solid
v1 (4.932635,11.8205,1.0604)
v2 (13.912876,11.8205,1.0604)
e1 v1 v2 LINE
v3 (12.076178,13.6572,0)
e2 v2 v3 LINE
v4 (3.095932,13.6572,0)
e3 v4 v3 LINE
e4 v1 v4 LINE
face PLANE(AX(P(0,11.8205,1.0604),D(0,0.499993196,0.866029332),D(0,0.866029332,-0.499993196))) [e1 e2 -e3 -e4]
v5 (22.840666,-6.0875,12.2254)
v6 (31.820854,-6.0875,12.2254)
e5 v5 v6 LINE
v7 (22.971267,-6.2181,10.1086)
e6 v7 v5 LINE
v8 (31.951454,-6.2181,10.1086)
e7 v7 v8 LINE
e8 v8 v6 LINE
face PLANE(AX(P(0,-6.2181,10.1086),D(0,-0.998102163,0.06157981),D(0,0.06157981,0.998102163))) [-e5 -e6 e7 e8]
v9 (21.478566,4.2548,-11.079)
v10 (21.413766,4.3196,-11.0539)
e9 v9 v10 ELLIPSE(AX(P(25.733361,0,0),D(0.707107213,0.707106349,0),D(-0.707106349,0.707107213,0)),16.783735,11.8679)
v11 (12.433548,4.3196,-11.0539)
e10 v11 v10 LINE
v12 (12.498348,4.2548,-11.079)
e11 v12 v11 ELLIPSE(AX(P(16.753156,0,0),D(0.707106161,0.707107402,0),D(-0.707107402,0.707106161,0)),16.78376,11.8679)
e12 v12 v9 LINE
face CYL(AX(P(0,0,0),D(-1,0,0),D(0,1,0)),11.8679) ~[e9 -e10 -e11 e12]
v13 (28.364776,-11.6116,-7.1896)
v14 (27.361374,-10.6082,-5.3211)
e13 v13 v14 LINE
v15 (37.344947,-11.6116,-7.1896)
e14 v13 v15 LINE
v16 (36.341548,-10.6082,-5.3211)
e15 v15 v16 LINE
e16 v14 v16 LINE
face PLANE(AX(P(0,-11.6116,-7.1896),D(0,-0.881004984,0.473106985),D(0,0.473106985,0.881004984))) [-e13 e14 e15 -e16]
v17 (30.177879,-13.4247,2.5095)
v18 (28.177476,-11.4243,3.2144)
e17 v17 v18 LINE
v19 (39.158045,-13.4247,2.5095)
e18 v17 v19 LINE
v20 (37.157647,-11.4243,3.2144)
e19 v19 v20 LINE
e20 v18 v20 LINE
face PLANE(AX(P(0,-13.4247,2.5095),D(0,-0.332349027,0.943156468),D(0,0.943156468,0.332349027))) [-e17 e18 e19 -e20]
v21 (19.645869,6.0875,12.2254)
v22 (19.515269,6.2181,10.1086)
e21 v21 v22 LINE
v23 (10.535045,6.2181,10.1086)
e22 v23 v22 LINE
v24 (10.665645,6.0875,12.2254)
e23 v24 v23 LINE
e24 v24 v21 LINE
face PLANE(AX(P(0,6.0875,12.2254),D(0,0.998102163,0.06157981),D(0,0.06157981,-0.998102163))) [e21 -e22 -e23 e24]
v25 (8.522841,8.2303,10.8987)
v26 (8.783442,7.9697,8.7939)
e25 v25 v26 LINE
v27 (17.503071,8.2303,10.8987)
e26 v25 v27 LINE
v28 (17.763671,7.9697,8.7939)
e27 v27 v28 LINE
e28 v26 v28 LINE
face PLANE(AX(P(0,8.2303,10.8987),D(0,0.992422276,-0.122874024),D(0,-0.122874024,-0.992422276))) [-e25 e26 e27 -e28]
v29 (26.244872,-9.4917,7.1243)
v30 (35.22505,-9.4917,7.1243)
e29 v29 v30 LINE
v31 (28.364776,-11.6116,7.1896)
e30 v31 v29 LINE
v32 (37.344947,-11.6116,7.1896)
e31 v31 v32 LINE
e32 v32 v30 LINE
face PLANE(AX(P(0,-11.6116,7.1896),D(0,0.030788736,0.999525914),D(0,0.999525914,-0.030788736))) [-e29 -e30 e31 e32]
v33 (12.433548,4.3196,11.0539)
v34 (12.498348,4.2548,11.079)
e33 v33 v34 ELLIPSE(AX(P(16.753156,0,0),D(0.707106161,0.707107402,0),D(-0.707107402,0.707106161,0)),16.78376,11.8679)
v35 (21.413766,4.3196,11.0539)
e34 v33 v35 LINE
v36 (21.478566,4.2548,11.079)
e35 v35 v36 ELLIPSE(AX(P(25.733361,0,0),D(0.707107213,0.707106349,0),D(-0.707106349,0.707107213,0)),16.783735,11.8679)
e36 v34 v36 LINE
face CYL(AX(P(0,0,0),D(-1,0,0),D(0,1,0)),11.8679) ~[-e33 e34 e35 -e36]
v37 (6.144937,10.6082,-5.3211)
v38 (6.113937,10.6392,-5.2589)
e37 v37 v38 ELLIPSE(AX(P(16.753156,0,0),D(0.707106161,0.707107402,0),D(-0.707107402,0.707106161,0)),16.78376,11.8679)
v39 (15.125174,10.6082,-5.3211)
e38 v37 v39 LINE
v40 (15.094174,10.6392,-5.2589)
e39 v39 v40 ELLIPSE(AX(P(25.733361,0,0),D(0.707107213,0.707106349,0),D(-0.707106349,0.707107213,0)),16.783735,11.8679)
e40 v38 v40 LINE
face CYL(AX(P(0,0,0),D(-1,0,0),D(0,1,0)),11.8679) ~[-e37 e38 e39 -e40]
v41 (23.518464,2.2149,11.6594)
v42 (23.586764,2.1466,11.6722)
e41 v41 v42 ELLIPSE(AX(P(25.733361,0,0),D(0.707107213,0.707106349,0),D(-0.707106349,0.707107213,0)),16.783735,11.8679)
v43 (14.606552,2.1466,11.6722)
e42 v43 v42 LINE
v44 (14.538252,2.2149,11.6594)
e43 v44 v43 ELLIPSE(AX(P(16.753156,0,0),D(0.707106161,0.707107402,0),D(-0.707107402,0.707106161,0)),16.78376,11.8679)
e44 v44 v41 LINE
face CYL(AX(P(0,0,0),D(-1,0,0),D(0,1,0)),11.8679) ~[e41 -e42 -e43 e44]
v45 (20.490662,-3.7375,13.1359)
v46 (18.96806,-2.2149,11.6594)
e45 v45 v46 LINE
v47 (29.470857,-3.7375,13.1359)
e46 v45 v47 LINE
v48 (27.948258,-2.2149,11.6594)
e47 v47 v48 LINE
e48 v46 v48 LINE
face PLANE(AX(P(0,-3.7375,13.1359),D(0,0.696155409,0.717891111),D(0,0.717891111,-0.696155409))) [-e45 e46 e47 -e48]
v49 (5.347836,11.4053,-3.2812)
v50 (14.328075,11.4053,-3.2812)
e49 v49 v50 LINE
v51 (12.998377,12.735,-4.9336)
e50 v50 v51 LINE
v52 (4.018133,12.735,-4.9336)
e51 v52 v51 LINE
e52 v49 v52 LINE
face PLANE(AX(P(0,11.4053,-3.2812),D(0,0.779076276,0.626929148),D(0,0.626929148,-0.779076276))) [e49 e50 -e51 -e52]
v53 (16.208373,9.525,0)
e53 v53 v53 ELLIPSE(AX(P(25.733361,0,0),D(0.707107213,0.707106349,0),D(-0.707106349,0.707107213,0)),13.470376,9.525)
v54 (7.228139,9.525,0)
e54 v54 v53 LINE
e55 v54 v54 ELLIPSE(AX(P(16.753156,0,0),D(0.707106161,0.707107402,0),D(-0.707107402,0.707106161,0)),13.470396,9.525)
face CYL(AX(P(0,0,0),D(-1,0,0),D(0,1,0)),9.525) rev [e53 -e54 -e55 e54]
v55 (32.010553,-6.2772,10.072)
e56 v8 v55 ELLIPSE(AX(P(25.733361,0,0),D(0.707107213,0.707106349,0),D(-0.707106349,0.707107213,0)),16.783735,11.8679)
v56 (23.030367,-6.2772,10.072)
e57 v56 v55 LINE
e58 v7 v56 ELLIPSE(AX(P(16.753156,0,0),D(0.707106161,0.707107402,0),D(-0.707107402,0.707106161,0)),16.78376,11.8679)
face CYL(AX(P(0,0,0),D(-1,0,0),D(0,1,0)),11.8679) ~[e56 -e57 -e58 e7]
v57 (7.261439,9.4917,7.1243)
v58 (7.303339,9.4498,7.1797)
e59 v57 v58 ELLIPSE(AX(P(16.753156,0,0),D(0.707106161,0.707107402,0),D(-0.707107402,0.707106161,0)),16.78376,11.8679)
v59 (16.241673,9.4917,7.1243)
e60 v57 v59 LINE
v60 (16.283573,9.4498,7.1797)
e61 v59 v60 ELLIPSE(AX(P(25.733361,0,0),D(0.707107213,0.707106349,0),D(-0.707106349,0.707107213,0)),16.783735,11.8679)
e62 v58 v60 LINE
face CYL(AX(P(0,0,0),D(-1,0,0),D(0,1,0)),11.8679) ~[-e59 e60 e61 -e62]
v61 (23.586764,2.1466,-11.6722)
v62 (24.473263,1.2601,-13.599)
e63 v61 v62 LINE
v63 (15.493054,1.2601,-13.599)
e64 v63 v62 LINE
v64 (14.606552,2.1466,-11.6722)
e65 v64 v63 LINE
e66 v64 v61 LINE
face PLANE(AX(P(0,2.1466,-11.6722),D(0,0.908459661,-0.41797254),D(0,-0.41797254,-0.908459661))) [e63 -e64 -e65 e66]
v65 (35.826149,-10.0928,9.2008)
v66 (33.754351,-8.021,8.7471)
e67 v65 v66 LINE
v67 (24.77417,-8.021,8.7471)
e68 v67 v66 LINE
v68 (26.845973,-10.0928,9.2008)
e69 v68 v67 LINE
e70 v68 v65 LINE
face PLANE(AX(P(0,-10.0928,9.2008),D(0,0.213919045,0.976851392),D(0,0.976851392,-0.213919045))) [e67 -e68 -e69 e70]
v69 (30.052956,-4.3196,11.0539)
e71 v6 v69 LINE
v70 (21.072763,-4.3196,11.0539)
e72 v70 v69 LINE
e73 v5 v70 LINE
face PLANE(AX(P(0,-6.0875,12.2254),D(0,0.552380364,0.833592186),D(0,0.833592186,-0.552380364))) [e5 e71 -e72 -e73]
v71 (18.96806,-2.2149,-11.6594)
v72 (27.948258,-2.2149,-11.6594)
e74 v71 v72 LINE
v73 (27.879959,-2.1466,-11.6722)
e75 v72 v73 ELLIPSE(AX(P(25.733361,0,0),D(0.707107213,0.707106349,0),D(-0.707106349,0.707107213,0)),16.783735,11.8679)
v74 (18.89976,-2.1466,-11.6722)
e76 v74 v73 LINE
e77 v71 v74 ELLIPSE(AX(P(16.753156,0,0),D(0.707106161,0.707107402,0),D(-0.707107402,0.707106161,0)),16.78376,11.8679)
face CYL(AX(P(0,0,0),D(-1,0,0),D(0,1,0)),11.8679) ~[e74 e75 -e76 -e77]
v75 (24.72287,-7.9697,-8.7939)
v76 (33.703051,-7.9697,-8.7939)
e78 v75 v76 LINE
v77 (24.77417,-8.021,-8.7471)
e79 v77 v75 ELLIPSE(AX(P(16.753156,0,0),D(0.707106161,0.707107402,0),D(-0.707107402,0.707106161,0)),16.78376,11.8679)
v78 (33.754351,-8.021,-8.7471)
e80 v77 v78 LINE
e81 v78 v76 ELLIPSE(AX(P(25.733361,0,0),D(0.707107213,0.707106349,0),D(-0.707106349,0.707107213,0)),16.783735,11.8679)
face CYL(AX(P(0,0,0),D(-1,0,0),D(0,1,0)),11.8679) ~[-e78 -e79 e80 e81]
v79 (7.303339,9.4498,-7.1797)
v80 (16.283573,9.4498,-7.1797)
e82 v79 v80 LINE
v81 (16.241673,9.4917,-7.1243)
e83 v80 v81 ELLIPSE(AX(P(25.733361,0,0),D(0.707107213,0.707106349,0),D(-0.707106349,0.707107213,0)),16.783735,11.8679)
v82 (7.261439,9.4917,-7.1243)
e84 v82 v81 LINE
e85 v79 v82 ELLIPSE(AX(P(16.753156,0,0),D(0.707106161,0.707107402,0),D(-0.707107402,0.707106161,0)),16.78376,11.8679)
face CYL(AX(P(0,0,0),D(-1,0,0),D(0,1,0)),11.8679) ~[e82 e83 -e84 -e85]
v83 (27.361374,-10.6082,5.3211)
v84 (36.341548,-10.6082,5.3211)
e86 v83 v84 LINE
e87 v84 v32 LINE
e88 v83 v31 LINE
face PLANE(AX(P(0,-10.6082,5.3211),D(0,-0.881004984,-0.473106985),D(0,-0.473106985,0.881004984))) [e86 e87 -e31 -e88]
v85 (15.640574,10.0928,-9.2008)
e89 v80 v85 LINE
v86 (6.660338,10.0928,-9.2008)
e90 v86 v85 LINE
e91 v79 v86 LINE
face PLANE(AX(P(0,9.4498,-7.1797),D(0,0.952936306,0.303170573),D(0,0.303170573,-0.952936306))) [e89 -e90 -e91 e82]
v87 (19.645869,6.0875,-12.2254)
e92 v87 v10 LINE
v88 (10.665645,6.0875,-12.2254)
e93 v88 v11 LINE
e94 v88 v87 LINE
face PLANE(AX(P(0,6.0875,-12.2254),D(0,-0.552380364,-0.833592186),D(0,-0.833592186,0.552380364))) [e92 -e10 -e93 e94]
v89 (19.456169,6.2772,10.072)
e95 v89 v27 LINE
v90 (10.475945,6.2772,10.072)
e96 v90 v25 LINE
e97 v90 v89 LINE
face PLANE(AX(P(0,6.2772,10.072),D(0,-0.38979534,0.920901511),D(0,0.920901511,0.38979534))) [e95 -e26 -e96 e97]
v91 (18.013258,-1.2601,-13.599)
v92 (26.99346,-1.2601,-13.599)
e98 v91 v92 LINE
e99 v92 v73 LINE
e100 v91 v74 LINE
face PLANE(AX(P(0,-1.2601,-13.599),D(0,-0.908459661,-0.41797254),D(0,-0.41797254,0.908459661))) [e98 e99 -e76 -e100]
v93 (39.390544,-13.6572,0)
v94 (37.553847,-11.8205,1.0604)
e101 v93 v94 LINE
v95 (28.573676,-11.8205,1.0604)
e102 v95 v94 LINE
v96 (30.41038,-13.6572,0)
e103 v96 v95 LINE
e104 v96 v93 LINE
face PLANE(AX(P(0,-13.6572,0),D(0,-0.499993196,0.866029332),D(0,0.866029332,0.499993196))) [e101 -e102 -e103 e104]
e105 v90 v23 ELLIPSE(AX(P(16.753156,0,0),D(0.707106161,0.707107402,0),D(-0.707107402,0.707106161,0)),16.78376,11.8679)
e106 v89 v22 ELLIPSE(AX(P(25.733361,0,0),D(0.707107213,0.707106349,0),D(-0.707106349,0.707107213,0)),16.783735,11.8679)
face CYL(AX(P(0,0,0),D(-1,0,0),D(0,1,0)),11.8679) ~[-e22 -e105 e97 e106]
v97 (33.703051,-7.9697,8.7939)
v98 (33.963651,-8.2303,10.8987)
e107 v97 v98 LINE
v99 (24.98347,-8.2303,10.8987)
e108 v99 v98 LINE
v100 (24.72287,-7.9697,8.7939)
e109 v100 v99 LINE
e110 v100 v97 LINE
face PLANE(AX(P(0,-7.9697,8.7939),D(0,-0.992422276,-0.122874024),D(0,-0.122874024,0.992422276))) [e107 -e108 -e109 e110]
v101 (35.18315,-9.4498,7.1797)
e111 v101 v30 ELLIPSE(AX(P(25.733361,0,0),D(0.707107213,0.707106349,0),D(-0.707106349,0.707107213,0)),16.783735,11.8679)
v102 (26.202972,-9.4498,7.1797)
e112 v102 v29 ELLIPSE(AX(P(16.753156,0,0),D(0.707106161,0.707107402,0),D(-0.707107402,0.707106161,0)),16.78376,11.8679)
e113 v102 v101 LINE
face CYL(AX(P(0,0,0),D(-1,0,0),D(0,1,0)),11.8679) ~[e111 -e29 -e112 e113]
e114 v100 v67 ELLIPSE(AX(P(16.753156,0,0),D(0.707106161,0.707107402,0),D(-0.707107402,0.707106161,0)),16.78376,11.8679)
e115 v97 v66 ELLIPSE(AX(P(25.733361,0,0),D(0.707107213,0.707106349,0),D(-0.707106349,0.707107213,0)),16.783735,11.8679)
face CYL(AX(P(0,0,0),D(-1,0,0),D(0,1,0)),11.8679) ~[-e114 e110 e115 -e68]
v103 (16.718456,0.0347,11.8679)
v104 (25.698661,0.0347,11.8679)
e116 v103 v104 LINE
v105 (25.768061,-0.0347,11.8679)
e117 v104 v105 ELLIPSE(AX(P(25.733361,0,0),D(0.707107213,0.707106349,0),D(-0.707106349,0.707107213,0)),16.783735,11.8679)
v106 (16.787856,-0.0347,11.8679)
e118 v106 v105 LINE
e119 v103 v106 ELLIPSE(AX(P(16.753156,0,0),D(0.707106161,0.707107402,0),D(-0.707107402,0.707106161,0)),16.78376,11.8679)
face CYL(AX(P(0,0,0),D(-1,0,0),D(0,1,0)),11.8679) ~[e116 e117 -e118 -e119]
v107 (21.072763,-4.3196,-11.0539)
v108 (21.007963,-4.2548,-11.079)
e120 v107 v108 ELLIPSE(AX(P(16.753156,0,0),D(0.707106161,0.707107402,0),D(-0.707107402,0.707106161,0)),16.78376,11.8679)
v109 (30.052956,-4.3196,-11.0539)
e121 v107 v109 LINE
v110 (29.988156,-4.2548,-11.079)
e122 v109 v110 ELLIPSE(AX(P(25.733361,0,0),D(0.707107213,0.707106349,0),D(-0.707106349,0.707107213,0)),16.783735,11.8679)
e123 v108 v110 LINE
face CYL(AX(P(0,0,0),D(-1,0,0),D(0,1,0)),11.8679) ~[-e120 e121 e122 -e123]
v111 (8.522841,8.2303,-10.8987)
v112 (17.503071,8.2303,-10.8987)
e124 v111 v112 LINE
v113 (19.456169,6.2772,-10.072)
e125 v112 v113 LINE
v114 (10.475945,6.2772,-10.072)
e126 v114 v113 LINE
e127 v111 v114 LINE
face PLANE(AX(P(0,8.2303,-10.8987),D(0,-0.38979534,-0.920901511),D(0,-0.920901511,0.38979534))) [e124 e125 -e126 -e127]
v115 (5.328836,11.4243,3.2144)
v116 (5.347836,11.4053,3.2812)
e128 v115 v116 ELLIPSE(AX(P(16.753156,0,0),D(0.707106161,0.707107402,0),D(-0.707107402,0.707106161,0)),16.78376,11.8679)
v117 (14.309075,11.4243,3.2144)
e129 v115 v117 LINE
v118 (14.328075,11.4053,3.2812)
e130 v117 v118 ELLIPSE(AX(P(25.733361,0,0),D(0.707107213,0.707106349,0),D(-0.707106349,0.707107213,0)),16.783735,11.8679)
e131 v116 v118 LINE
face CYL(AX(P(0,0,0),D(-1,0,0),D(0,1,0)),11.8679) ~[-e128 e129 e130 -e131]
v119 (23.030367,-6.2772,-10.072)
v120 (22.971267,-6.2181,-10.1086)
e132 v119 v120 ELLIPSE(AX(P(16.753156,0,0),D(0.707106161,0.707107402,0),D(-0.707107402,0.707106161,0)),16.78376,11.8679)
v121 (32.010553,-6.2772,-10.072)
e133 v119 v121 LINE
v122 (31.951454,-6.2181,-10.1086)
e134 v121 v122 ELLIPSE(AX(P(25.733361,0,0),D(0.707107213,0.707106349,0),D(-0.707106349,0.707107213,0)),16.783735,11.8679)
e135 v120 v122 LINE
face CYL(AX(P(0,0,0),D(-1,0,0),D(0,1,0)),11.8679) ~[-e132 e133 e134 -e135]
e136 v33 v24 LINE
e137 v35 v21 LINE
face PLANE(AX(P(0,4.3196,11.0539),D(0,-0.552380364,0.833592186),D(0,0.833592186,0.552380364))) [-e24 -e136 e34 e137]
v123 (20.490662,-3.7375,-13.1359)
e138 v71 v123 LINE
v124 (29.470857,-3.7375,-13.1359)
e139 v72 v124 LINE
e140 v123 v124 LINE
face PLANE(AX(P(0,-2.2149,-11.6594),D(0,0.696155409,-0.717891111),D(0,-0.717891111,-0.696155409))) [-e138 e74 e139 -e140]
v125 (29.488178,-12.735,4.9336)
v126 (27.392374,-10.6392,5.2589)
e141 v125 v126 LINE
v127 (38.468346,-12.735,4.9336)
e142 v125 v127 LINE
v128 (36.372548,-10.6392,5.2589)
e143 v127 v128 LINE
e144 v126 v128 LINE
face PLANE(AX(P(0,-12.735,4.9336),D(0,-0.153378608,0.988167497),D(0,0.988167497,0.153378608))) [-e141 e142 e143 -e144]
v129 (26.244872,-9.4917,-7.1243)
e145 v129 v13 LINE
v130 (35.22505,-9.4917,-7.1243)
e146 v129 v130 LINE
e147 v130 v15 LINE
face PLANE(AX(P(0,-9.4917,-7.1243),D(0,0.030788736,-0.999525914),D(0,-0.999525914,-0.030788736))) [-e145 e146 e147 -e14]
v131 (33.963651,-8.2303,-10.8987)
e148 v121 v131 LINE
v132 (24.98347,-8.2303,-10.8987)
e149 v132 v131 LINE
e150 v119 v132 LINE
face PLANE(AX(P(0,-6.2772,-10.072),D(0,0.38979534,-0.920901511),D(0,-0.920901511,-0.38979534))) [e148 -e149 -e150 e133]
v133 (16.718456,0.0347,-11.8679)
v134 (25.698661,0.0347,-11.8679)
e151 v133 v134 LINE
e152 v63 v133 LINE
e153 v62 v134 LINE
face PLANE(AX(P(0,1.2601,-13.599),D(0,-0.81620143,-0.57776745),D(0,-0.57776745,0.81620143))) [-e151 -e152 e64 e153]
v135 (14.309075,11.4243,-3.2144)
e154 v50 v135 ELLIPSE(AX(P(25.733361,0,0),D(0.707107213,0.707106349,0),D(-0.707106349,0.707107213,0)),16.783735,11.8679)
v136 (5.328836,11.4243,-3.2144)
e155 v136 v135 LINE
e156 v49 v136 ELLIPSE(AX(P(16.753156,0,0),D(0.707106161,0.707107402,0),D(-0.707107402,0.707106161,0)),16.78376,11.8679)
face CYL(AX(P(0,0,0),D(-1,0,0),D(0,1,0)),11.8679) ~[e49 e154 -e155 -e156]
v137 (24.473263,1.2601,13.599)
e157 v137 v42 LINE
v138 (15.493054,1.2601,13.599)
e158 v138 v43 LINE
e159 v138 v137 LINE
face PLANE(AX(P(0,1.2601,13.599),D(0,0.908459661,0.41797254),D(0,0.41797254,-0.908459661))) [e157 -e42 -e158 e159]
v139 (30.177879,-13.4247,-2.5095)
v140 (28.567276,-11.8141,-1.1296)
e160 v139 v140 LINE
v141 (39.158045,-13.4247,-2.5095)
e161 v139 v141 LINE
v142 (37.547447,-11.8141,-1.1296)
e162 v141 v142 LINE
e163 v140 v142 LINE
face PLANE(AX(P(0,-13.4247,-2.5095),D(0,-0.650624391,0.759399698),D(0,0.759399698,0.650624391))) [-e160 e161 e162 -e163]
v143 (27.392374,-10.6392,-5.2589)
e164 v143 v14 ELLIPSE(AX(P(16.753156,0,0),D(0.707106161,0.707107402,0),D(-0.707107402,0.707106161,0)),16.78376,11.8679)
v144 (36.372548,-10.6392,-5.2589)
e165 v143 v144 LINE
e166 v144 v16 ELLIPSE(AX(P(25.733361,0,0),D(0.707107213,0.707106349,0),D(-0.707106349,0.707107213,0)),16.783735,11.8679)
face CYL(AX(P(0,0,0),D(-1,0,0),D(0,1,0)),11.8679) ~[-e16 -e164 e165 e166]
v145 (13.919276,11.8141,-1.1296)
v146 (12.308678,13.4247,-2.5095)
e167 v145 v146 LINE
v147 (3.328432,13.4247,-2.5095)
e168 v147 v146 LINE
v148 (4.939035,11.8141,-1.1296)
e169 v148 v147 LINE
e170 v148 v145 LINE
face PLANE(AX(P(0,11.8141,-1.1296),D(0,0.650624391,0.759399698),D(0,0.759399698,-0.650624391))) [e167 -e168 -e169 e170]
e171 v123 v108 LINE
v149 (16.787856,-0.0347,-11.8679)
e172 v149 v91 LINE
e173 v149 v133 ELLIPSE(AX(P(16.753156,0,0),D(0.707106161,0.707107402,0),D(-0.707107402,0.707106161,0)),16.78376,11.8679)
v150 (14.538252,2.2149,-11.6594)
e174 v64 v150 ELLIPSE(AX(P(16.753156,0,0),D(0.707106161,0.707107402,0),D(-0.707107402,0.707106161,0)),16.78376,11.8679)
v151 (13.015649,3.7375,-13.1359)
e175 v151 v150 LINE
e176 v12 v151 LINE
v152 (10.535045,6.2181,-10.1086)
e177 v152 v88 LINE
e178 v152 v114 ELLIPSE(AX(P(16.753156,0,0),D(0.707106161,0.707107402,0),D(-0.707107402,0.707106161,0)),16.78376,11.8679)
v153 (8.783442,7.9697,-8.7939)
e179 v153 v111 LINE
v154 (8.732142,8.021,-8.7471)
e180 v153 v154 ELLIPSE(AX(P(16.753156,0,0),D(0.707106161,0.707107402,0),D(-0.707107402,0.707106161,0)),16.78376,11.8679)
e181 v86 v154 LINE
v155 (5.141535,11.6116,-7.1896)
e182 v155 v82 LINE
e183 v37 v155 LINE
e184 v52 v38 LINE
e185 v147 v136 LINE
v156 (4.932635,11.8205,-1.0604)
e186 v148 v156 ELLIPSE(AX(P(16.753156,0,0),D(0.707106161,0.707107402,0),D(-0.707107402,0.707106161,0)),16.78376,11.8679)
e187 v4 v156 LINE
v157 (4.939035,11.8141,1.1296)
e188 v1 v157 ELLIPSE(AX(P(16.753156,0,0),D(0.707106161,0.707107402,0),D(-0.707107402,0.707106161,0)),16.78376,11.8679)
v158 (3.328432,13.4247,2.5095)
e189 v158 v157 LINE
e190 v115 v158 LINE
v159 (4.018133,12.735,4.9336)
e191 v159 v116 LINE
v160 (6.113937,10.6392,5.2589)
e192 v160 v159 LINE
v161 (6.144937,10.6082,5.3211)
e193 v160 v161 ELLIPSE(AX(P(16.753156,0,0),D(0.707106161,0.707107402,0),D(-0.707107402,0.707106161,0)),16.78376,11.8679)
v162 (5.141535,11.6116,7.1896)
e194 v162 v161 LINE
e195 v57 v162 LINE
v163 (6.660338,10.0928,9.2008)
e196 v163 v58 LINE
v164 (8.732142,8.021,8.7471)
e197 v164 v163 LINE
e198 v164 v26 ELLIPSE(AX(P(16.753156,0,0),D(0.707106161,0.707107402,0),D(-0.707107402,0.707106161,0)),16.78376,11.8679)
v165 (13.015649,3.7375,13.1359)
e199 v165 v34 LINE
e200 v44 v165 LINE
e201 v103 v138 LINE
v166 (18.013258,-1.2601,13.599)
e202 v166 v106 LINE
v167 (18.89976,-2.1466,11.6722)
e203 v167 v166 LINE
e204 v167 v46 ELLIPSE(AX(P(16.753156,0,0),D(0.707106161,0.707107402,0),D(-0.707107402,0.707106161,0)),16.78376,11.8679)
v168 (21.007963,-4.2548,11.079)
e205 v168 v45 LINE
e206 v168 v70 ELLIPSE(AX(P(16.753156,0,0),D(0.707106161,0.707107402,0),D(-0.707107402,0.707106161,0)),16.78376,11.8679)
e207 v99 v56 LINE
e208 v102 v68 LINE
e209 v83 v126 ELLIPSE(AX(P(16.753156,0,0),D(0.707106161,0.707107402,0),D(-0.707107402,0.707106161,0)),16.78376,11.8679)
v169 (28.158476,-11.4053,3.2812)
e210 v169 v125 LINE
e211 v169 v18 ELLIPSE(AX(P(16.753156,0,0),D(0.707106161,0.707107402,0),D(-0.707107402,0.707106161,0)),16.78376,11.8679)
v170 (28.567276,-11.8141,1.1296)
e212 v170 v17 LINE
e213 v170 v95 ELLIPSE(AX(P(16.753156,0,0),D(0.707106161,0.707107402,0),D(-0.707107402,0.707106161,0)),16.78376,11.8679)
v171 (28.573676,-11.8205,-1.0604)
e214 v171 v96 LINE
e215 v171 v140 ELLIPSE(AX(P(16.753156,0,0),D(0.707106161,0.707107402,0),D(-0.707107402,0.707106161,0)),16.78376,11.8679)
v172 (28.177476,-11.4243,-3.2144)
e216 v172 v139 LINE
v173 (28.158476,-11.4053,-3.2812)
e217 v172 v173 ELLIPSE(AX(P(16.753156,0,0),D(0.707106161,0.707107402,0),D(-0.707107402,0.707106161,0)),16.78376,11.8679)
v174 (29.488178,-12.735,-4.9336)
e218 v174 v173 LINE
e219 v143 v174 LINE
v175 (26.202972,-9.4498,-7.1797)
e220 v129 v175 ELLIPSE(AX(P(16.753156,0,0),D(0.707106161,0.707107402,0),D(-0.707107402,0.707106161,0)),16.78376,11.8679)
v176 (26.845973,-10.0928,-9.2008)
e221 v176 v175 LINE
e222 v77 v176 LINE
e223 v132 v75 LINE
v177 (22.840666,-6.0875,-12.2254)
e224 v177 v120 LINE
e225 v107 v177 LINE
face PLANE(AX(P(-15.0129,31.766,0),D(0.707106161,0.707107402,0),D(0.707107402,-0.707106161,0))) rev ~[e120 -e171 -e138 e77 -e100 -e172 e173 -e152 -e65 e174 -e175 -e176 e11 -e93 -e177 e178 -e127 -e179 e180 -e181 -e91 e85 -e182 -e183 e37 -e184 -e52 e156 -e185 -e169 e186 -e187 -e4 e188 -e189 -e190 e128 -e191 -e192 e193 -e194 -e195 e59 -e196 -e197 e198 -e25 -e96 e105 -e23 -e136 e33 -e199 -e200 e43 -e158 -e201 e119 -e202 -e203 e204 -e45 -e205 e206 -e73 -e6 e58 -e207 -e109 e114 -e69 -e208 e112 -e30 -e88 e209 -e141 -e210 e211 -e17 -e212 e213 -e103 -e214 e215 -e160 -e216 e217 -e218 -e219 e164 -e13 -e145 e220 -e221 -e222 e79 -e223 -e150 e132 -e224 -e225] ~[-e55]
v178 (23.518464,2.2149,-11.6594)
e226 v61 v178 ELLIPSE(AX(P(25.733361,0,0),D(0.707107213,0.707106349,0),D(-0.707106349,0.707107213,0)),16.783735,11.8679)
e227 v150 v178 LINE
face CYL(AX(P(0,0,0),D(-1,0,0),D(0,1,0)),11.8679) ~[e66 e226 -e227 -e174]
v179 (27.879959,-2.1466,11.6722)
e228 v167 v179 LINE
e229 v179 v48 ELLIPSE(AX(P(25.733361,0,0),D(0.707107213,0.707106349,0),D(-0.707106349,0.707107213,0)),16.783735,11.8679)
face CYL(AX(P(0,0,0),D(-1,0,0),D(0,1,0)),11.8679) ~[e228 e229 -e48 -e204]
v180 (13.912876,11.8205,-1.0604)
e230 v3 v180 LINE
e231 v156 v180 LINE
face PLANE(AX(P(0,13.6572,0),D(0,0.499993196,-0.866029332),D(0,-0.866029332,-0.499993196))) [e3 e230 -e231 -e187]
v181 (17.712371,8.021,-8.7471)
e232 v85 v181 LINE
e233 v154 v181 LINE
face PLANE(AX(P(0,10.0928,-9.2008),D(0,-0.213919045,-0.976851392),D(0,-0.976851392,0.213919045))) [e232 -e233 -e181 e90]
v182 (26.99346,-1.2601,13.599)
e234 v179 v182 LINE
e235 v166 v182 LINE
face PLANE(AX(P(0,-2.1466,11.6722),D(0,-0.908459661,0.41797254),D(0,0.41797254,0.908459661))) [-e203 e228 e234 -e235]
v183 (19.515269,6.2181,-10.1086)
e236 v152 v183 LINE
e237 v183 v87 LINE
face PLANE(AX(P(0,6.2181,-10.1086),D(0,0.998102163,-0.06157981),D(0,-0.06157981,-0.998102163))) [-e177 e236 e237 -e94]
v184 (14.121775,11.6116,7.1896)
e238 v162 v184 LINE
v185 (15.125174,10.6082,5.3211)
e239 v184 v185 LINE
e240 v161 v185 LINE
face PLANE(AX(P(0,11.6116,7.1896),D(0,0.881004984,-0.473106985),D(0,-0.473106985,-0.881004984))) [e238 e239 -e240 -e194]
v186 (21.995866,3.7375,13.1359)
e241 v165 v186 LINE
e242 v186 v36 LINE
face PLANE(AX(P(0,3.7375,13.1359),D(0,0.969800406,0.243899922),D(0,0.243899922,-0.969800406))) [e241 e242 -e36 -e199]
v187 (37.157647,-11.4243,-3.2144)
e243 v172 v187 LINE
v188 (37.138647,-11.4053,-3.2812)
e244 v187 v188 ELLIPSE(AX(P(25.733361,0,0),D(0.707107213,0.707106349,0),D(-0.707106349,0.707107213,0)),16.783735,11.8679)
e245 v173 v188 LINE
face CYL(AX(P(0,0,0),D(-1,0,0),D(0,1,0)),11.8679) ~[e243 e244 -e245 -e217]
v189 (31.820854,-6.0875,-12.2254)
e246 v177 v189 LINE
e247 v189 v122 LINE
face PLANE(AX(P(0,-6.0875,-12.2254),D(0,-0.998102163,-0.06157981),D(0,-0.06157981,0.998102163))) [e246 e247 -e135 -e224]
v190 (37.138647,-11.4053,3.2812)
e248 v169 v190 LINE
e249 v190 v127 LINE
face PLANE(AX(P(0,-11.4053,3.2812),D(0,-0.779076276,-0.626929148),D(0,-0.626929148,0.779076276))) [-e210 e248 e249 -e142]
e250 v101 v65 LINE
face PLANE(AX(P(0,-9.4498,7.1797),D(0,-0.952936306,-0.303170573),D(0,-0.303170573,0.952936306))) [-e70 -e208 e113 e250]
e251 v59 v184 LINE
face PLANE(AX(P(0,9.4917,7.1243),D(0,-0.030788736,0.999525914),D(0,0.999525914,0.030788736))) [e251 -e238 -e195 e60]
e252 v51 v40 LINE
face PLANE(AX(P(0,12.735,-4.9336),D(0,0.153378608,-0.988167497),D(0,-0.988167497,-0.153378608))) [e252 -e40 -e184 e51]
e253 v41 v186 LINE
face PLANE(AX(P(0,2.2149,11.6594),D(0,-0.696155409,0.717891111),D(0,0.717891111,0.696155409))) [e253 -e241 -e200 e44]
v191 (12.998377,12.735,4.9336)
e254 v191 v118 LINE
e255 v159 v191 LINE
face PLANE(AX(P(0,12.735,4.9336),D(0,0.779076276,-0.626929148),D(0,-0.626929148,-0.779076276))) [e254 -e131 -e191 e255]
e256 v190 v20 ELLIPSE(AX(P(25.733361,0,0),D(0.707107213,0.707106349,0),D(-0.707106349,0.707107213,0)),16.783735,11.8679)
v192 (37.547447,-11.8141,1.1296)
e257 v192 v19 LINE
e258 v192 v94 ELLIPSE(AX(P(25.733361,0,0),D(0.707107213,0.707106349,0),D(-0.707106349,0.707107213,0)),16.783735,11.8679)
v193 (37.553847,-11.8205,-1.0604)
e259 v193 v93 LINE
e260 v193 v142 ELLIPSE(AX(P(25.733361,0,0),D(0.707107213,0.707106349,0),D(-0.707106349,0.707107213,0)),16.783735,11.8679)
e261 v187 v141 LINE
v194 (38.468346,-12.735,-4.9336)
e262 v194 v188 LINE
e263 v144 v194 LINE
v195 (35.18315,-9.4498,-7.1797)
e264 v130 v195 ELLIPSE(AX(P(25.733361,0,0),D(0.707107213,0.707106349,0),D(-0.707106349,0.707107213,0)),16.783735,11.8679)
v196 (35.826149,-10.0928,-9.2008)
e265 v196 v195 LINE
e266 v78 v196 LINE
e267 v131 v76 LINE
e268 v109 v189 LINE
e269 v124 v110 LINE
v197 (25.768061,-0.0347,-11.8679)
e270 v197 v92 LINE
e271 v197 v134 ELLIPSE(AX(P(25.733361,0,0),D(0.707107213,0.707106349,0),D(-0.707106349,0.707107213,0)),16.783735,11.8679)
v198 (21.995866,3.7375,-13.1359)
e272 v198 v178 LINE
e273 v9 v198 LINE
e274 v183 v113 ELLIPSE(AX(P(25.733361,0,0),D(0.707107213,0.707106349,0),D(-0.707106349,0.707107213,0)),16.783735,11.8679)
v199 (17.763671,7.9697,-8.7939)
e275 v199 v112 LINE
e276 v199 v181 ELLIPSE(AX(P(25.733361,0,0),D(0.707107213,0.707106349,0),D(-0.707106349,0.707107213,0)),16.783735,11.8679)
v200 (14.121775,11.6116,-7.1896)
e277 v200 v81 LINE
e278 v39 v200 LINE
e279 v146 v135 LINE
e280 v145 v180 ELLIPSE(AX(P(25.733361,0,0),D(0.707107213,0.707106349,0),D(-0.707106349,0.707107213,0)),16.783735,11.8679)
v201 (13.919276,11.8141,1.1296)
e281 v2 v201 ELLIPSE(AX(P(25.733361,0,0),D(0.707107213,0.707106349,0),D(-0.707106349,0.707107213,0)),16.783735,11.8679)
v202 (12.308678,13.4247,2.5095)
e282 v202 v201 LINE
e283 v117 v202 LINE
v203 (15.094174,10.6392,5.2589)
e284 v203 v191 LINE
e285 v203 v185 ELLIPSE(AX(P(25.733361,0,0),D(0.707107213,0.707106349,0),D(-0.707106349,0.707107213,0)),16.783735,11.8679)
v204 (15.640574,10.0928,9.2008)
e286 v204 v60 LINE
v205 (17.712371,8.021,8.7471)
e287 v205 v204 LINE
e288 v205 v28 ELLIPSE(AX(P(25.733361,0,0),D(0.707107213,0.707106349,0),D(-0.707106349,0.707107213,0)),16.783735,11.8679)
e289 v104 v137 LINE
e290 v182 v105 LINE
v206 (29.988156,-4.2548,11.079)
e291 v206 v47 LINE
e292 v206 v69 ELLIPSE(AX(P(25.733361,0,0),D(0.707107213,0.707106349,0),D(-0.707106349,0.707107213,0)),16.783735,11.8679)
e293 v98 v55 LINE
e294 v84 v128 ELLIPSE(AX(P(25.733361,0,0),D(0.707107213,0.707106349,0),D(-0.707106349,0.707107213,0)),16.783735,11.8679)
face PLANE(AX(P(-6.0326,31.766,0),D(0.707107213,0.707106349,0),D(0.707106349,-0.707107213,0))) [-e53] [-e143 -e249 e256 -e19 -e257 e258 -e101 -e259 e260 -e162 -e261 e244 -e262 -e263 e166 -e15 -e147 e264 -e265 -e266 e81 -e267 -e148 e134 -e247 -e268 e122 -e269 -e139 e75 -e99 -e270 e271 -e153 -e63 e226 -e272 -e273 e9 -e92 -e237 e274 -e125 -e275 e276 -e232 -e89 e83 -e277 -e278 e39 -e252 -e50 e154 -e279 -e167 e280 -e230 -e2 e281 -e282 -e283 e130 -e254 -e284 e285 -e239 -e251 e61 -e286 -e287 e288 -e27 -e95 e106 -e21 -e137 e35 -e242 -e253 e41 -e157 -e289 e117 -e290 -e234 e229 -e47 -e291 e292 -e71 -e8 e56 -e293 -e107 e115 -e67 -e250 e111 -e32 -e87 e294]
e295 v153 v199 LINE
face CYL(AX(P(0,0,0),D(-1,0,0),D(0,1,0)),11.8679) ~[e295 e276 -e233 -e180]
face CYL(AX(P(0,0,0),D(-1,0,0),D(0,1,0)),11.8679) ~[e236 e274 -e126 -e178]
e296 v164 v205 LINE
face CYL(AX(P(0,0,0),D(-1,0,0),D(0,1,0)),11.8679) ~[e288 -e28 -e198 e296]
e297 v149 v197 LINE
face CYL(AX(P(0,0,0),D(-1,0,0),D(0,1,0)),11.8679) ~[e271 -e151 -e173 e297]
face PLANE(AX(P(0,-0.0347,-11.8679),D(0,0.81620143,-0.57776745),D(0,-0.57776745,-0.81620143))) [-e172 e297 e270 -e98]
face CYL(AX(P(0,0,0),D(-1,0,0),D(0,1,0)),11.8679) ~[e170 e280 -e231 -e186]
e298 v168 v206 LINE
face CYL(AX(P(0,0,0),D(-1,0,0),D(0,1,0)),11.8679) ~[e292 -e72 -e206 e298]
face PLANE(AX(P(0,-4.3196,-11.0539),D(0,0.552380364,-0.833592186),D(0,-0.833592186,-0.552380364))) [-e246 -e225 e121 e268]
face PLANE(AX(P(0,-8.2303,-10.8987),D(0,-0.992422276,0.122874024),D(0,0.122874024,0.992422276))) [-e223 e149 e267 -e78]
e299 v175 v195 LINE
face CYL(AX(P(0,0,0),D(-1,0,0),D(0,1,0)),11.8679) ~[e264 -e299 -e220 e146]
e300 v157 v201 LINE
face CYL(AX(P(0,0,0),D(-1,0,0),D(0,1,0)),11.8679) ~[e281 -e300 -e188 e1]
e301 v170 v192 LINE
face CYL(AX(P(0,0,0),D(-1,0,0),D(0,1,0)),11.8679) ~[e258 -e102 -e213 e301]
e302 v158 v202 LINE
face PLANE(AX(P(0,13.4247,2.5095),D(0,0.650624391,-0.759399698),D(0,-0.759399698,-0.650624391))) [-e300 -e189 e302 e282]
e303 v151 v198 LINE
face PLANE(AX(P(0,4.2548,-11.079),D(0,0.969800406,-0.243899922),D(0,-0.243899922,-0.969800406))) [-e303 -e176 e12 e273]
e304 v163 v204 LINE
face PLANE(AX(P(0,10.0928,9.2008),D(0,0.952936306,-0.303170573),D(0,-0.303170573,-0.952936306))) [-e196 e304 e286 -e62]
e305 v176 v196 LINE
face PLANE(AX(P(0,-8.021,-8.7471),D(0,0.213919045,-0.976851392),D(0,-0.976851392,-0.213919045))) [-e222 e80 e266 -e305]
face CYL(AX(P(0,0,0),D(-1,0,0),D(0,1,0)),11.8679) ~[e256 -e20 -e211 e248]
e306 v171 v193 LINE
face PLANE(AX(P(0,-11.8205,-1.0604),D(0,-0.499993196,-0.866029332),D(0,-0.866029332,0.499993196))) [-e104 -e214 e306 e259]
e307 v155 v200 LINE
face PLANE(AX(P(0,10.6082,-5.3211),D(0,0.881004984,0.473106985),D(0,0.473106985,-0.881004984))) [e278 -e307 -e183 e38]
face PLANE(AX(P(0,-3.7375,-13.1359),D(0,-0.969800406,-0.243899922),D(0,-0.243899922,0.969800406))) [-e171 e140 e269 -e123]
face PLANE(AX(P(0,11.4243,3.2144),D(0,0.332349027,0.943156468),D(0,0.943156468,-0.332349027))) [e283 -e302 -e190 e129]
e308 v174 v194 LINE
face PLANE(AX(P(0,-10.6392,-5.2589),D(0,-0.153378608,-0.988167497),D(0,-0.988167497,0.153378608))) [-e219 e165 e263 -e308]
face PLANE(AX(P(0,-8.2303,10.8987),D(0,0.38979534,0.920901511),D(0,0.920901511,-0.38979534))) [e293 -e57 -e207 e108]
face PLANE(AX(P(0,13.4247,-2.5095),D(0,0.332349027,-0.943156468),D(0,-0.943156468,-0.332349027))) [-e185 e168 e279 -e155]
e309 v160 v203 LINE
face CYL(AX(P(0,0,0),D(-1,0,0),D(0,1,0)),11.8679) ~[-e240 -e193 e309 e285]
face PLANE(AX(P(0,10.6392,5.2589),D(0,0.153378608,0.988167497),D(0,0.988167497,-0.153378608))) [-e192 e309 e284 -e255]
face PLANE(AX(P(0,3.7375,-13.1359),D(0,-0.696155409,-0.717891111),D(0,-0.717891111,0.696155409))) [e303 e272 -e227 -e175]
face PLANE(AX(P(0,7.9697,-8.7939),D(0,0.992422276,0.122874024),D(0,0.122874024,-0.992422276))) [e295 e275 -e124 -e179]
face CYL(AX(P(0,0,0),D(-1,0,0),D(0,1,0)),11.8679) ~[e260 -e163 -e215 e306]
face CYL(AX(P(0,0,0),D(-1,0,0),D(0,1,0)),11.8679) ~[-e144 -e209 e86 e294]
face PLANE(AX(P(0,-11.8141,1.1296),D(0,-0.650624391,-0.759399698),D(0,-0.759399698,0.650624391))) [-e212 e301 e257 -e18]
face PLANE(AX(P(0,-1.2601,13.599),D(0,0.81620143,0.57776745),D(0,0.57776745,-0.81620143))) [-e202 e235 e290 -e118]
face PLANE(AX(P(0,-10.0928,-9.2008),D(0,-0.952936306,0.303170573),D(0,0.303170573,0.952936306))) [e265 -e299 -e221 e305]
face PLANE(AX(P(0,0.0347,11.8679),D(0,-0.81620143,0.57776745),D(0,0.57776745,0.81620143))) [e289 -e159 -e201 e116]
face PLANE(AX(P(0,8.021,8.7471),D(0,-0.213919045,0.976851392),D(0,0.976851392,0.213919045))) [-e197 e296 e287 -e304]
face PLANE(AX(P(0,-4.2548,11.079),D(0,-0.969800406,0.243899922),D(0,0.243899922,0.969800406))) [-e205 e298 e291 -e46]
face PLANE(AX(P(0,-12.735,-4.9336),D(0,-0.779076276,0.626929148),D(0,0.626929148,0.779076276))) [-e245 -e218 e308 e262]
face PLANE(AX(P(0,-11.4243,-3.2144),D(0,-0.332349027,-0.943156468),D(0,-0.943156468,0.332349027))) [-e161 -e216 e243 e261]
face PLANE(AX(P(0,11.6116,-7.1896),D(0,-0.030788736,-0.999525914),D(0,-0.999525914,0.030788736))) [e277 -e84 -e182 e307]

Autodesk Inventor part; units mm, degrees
ref_plane "YZ Plane" through (0, 0, 0) normal (1, 0, 0) x (0, 1, 0)
ref_plane "XZ Plane" through (0, 0, 0) normal (0, 1, 0) x (-1, 0, 0)
ref_plane "XY Plane" through (0, 0, 0) normal (0, 0, 1) x (1, 0, 0)
sketch "Sketch1" plane through (0, 0, 0) normal (1, 0, 0) x (0, 1, 0)
  circle A0 centre (0, 0) radius 11.8679
  line L0 (11.8205, 1.0604) -> (13.6572, 0)
  line L1 (13.6572, 0) -> (11.8205, -1.0604)
  line L2 (0, 0) -> (19.8155, 0) construction
  line L3 (11.4243, 3.2144) -> (13.4247, 2.5095)
  line L4 (13.4247, 2.5095) -> (11.8141, 1.1296)
  line L5 (10.6392, 5.2589) -> (12.735, 4.9336)
  line L6 (12.735, 4.9336) -> (11.4053, 3.2812)
  line L7 (9.4917, 7.1243) -> (11.6116, 7.1896)
  line L8 (11.6116, 7.1896) -> (10.6082, 5.3211)
  line L9 (8.021, 8.7471) -> (10.0928, 9.2008)
  line L10 (10.0928, 9.2008) -> (9.4498, 7.1797)
  line L11 (6.2772, 10.072) -> (8.2303, 10.8987)
  line L12 (8.2303, 10.8987) -> (7.9697, 8.7939)
  line L13 (4.3196, 11.0539) -> (6.0875, 12.2254)
  line L14 (6.0875, 12.2254) -> (6.2181, 10.1086)
  line L15 (2.2149, 11.6594) -> (3.7375, 13.1359)
  line L16 (3.7375, 13.1359) -> (4.2548, 11.079)
  line L17 (0.0347, 11.8679) -> (1.2601, 13.599)
  line L18 (1.2601, 13.599) -> (2.1466, 11.6722)
  line L19 (-2.1466, 11.6722) -> (-1.2601, 13.599)
  line L20 (-1.2601, 13.599) -> (-0.0347, 11.8679)
  line L21 (-4.2548, 11.079) -> (-3.7375, 13.1359)
  line L22 (-3.7375, 13.1359) -> (-2.2149, 11.6594)
  line L23 (-6.2181, 10.1086) -> (-6.0875, 12.2254)
  line L24 (-6.0875, 12.2254) -> (-4.3196, 11.0539)
  line L25 (-7.9697, 8.7939) -> (-8.2303, 10.8987)
  line L26 (-8.2303, 10.8987) -> (-6.2772, 10.072)
  line L27 (-9.4498, 7.1797) -> (-10.0928, 9.2008)
  line L28 (-10.0928, 9.2008) -> (-8.021, 8.7471)
  line L29 (-10.6082, 5.3211) -> (-11.6116, 7.1896)
  line L30 (-11.6116, 7.1896) -> (-9.4917, 7.1243)
  line L31 (-11.4053, 3.2812) -> (-12.735, 4.9336)
  line L32 (-12.735, 4.9336) -> (-10.6392, 5.2589)
  line L33 (-11.8141, 1.1296) -> (-13.4247, 2.5095)
  line L34 (-13.4247, 2.5095) -> (-11.4243, 3.2144)
  line L35 (-11.8205, -1.0604) -> (-13.6572, 0)
  line L36 (-13.6572, 0) -> (-11.8205, 1.0604)
  line L37 (-11.4243, -3.2144) -> (-13.4247, -2.5095)
  line L38 (-13.4247, -2.5095) -> (-11.8141, -1.1296)
  line L39 (-10.6392, -5.2589) -> (-12.735, -4.9336)
  line L40 (-12.735, -4.9336) -> (-11.4053, -3.2812)
  line L41 (-9.4917, -7.1243) -> (-11.6116, -7.1896)
  line L42 (-11.6116, -7.1896) -> (-10.6082, -5.3211)
  line L43 (-8.021, -8.7471) -> (-10.0928, -9.2008)
  line L44 (-10.0928, -9.2008) -> (-9.4498, -7.1797)
  line L45 (-6.2772, -10.072) -> (-8.2303, -10.8987)
  line L46 (-8.2303, -10.8987) -> (-7.9697, -8.7939)
  line L47 (-4.3196, -11.0539) -> (-6.0875, -12.2254)
  line L48 (-6.0875, -12.2254) -> (-6.2181, -10.1086)
  line L49 (-2.2149, -11.6594) -> (-3.7375, -13.1359)
  line L50 (-3.7375, -13.1359) -> (-4.2548, -11.079)
  line L51 (-0.0347, -11.8679) -> (-1.2601, -13.599)
  line L52 (-1.2601, -13.599) -> (-2.1466, -11.6722)
  line L53 (2.1466, -11.6722) -> (1.2601, -13.599)
  line L54 (1.2601, -13.599) -> (0.0347, -11.8679)
  line L55 (4.2548, -11.079) -> (3.7375, -13.1359)
  line L56 (3.7375, -13.1359) -> (2.2149, -11.6594)
  line L57 (6.2181, -10.1086) -> (6.0875, -12.2254)
  line L58 (6.0875, -12.2254) -> (4.3196, -11.0539)
  line L59 (7.9697, -8.7939) -> (8.2303, -10.8987)
  line L60 (8.2303, -10.8987) -> (6.2772, -10.072)
  line L61 (9.4498, -7.1797) -> (10.0928, -9.2008)
  line L62 (10.0928, -9.2008) -> (8.021, -8.7471)
  line L63 (10.6082, -5.3211) -> (11.6116, -7.1896)
  line L64 (11.6116, -7.1896) -> (9.4917, -7.1243)
  line L65 (11.4053, -3.2812) -> (12.735, -4.9336)
  line L66 (12.735, -4.9336) -> (10.6392, -5.2589)
  line L67 (11.8141, -1.1296) -> (13.4247, -2.5095)
  line L68 (13.4247, -2.5095) -> (11.4243, -3.2144)
  point P0 (11.8141, 1.1296)
  dimension "d0" = 60
  dimension "d3" = 360
extrude "Extrusion1" add sketch "Sketch1" along normal blind 50.8
sketch "Sketch2" plane through (0, 0, 0) normal (0, 0, 1) x (1, 0, 0)
  line L0 (-15.0129, 31.766) -> (41.9733, -25.2201)
  line L1 (-15.0129, 31.766) -> (65.5777, 31.766) construction
  line L2 (-6.0326, 31.766) -> (75.7664, -50.0331)
  line L3 (-15.0129, 31.766) -> (-15.0129, -18.6384)
  line L4 (-15.0129, -18.6384) -> (41.9733, -25.2201)
  line L5 (75.7664, -50.0331) -> (53.6248, 15.8173)
  line L6 (53.6248, 15.8173) -> (-6.0326, 31.766)
  point P0 (0, 0)
  dimension "d7" = 45
  dimension "d8" = 6.35
extrude "Extrusion3" cut sketch "Sketch2" along normal mid plane 50.8
sketch "Sketch3" plane through (0, 0, 0) normal (1, 0, 0) x (0, 1, 0)
  circle A0 centre (0, 0) radius 9.525
  dimension "d15" = 19.05
extrude "Extrusion4" cut sketch "Sketch3" along normal blind 50.8
properties part number "Test Gear"
